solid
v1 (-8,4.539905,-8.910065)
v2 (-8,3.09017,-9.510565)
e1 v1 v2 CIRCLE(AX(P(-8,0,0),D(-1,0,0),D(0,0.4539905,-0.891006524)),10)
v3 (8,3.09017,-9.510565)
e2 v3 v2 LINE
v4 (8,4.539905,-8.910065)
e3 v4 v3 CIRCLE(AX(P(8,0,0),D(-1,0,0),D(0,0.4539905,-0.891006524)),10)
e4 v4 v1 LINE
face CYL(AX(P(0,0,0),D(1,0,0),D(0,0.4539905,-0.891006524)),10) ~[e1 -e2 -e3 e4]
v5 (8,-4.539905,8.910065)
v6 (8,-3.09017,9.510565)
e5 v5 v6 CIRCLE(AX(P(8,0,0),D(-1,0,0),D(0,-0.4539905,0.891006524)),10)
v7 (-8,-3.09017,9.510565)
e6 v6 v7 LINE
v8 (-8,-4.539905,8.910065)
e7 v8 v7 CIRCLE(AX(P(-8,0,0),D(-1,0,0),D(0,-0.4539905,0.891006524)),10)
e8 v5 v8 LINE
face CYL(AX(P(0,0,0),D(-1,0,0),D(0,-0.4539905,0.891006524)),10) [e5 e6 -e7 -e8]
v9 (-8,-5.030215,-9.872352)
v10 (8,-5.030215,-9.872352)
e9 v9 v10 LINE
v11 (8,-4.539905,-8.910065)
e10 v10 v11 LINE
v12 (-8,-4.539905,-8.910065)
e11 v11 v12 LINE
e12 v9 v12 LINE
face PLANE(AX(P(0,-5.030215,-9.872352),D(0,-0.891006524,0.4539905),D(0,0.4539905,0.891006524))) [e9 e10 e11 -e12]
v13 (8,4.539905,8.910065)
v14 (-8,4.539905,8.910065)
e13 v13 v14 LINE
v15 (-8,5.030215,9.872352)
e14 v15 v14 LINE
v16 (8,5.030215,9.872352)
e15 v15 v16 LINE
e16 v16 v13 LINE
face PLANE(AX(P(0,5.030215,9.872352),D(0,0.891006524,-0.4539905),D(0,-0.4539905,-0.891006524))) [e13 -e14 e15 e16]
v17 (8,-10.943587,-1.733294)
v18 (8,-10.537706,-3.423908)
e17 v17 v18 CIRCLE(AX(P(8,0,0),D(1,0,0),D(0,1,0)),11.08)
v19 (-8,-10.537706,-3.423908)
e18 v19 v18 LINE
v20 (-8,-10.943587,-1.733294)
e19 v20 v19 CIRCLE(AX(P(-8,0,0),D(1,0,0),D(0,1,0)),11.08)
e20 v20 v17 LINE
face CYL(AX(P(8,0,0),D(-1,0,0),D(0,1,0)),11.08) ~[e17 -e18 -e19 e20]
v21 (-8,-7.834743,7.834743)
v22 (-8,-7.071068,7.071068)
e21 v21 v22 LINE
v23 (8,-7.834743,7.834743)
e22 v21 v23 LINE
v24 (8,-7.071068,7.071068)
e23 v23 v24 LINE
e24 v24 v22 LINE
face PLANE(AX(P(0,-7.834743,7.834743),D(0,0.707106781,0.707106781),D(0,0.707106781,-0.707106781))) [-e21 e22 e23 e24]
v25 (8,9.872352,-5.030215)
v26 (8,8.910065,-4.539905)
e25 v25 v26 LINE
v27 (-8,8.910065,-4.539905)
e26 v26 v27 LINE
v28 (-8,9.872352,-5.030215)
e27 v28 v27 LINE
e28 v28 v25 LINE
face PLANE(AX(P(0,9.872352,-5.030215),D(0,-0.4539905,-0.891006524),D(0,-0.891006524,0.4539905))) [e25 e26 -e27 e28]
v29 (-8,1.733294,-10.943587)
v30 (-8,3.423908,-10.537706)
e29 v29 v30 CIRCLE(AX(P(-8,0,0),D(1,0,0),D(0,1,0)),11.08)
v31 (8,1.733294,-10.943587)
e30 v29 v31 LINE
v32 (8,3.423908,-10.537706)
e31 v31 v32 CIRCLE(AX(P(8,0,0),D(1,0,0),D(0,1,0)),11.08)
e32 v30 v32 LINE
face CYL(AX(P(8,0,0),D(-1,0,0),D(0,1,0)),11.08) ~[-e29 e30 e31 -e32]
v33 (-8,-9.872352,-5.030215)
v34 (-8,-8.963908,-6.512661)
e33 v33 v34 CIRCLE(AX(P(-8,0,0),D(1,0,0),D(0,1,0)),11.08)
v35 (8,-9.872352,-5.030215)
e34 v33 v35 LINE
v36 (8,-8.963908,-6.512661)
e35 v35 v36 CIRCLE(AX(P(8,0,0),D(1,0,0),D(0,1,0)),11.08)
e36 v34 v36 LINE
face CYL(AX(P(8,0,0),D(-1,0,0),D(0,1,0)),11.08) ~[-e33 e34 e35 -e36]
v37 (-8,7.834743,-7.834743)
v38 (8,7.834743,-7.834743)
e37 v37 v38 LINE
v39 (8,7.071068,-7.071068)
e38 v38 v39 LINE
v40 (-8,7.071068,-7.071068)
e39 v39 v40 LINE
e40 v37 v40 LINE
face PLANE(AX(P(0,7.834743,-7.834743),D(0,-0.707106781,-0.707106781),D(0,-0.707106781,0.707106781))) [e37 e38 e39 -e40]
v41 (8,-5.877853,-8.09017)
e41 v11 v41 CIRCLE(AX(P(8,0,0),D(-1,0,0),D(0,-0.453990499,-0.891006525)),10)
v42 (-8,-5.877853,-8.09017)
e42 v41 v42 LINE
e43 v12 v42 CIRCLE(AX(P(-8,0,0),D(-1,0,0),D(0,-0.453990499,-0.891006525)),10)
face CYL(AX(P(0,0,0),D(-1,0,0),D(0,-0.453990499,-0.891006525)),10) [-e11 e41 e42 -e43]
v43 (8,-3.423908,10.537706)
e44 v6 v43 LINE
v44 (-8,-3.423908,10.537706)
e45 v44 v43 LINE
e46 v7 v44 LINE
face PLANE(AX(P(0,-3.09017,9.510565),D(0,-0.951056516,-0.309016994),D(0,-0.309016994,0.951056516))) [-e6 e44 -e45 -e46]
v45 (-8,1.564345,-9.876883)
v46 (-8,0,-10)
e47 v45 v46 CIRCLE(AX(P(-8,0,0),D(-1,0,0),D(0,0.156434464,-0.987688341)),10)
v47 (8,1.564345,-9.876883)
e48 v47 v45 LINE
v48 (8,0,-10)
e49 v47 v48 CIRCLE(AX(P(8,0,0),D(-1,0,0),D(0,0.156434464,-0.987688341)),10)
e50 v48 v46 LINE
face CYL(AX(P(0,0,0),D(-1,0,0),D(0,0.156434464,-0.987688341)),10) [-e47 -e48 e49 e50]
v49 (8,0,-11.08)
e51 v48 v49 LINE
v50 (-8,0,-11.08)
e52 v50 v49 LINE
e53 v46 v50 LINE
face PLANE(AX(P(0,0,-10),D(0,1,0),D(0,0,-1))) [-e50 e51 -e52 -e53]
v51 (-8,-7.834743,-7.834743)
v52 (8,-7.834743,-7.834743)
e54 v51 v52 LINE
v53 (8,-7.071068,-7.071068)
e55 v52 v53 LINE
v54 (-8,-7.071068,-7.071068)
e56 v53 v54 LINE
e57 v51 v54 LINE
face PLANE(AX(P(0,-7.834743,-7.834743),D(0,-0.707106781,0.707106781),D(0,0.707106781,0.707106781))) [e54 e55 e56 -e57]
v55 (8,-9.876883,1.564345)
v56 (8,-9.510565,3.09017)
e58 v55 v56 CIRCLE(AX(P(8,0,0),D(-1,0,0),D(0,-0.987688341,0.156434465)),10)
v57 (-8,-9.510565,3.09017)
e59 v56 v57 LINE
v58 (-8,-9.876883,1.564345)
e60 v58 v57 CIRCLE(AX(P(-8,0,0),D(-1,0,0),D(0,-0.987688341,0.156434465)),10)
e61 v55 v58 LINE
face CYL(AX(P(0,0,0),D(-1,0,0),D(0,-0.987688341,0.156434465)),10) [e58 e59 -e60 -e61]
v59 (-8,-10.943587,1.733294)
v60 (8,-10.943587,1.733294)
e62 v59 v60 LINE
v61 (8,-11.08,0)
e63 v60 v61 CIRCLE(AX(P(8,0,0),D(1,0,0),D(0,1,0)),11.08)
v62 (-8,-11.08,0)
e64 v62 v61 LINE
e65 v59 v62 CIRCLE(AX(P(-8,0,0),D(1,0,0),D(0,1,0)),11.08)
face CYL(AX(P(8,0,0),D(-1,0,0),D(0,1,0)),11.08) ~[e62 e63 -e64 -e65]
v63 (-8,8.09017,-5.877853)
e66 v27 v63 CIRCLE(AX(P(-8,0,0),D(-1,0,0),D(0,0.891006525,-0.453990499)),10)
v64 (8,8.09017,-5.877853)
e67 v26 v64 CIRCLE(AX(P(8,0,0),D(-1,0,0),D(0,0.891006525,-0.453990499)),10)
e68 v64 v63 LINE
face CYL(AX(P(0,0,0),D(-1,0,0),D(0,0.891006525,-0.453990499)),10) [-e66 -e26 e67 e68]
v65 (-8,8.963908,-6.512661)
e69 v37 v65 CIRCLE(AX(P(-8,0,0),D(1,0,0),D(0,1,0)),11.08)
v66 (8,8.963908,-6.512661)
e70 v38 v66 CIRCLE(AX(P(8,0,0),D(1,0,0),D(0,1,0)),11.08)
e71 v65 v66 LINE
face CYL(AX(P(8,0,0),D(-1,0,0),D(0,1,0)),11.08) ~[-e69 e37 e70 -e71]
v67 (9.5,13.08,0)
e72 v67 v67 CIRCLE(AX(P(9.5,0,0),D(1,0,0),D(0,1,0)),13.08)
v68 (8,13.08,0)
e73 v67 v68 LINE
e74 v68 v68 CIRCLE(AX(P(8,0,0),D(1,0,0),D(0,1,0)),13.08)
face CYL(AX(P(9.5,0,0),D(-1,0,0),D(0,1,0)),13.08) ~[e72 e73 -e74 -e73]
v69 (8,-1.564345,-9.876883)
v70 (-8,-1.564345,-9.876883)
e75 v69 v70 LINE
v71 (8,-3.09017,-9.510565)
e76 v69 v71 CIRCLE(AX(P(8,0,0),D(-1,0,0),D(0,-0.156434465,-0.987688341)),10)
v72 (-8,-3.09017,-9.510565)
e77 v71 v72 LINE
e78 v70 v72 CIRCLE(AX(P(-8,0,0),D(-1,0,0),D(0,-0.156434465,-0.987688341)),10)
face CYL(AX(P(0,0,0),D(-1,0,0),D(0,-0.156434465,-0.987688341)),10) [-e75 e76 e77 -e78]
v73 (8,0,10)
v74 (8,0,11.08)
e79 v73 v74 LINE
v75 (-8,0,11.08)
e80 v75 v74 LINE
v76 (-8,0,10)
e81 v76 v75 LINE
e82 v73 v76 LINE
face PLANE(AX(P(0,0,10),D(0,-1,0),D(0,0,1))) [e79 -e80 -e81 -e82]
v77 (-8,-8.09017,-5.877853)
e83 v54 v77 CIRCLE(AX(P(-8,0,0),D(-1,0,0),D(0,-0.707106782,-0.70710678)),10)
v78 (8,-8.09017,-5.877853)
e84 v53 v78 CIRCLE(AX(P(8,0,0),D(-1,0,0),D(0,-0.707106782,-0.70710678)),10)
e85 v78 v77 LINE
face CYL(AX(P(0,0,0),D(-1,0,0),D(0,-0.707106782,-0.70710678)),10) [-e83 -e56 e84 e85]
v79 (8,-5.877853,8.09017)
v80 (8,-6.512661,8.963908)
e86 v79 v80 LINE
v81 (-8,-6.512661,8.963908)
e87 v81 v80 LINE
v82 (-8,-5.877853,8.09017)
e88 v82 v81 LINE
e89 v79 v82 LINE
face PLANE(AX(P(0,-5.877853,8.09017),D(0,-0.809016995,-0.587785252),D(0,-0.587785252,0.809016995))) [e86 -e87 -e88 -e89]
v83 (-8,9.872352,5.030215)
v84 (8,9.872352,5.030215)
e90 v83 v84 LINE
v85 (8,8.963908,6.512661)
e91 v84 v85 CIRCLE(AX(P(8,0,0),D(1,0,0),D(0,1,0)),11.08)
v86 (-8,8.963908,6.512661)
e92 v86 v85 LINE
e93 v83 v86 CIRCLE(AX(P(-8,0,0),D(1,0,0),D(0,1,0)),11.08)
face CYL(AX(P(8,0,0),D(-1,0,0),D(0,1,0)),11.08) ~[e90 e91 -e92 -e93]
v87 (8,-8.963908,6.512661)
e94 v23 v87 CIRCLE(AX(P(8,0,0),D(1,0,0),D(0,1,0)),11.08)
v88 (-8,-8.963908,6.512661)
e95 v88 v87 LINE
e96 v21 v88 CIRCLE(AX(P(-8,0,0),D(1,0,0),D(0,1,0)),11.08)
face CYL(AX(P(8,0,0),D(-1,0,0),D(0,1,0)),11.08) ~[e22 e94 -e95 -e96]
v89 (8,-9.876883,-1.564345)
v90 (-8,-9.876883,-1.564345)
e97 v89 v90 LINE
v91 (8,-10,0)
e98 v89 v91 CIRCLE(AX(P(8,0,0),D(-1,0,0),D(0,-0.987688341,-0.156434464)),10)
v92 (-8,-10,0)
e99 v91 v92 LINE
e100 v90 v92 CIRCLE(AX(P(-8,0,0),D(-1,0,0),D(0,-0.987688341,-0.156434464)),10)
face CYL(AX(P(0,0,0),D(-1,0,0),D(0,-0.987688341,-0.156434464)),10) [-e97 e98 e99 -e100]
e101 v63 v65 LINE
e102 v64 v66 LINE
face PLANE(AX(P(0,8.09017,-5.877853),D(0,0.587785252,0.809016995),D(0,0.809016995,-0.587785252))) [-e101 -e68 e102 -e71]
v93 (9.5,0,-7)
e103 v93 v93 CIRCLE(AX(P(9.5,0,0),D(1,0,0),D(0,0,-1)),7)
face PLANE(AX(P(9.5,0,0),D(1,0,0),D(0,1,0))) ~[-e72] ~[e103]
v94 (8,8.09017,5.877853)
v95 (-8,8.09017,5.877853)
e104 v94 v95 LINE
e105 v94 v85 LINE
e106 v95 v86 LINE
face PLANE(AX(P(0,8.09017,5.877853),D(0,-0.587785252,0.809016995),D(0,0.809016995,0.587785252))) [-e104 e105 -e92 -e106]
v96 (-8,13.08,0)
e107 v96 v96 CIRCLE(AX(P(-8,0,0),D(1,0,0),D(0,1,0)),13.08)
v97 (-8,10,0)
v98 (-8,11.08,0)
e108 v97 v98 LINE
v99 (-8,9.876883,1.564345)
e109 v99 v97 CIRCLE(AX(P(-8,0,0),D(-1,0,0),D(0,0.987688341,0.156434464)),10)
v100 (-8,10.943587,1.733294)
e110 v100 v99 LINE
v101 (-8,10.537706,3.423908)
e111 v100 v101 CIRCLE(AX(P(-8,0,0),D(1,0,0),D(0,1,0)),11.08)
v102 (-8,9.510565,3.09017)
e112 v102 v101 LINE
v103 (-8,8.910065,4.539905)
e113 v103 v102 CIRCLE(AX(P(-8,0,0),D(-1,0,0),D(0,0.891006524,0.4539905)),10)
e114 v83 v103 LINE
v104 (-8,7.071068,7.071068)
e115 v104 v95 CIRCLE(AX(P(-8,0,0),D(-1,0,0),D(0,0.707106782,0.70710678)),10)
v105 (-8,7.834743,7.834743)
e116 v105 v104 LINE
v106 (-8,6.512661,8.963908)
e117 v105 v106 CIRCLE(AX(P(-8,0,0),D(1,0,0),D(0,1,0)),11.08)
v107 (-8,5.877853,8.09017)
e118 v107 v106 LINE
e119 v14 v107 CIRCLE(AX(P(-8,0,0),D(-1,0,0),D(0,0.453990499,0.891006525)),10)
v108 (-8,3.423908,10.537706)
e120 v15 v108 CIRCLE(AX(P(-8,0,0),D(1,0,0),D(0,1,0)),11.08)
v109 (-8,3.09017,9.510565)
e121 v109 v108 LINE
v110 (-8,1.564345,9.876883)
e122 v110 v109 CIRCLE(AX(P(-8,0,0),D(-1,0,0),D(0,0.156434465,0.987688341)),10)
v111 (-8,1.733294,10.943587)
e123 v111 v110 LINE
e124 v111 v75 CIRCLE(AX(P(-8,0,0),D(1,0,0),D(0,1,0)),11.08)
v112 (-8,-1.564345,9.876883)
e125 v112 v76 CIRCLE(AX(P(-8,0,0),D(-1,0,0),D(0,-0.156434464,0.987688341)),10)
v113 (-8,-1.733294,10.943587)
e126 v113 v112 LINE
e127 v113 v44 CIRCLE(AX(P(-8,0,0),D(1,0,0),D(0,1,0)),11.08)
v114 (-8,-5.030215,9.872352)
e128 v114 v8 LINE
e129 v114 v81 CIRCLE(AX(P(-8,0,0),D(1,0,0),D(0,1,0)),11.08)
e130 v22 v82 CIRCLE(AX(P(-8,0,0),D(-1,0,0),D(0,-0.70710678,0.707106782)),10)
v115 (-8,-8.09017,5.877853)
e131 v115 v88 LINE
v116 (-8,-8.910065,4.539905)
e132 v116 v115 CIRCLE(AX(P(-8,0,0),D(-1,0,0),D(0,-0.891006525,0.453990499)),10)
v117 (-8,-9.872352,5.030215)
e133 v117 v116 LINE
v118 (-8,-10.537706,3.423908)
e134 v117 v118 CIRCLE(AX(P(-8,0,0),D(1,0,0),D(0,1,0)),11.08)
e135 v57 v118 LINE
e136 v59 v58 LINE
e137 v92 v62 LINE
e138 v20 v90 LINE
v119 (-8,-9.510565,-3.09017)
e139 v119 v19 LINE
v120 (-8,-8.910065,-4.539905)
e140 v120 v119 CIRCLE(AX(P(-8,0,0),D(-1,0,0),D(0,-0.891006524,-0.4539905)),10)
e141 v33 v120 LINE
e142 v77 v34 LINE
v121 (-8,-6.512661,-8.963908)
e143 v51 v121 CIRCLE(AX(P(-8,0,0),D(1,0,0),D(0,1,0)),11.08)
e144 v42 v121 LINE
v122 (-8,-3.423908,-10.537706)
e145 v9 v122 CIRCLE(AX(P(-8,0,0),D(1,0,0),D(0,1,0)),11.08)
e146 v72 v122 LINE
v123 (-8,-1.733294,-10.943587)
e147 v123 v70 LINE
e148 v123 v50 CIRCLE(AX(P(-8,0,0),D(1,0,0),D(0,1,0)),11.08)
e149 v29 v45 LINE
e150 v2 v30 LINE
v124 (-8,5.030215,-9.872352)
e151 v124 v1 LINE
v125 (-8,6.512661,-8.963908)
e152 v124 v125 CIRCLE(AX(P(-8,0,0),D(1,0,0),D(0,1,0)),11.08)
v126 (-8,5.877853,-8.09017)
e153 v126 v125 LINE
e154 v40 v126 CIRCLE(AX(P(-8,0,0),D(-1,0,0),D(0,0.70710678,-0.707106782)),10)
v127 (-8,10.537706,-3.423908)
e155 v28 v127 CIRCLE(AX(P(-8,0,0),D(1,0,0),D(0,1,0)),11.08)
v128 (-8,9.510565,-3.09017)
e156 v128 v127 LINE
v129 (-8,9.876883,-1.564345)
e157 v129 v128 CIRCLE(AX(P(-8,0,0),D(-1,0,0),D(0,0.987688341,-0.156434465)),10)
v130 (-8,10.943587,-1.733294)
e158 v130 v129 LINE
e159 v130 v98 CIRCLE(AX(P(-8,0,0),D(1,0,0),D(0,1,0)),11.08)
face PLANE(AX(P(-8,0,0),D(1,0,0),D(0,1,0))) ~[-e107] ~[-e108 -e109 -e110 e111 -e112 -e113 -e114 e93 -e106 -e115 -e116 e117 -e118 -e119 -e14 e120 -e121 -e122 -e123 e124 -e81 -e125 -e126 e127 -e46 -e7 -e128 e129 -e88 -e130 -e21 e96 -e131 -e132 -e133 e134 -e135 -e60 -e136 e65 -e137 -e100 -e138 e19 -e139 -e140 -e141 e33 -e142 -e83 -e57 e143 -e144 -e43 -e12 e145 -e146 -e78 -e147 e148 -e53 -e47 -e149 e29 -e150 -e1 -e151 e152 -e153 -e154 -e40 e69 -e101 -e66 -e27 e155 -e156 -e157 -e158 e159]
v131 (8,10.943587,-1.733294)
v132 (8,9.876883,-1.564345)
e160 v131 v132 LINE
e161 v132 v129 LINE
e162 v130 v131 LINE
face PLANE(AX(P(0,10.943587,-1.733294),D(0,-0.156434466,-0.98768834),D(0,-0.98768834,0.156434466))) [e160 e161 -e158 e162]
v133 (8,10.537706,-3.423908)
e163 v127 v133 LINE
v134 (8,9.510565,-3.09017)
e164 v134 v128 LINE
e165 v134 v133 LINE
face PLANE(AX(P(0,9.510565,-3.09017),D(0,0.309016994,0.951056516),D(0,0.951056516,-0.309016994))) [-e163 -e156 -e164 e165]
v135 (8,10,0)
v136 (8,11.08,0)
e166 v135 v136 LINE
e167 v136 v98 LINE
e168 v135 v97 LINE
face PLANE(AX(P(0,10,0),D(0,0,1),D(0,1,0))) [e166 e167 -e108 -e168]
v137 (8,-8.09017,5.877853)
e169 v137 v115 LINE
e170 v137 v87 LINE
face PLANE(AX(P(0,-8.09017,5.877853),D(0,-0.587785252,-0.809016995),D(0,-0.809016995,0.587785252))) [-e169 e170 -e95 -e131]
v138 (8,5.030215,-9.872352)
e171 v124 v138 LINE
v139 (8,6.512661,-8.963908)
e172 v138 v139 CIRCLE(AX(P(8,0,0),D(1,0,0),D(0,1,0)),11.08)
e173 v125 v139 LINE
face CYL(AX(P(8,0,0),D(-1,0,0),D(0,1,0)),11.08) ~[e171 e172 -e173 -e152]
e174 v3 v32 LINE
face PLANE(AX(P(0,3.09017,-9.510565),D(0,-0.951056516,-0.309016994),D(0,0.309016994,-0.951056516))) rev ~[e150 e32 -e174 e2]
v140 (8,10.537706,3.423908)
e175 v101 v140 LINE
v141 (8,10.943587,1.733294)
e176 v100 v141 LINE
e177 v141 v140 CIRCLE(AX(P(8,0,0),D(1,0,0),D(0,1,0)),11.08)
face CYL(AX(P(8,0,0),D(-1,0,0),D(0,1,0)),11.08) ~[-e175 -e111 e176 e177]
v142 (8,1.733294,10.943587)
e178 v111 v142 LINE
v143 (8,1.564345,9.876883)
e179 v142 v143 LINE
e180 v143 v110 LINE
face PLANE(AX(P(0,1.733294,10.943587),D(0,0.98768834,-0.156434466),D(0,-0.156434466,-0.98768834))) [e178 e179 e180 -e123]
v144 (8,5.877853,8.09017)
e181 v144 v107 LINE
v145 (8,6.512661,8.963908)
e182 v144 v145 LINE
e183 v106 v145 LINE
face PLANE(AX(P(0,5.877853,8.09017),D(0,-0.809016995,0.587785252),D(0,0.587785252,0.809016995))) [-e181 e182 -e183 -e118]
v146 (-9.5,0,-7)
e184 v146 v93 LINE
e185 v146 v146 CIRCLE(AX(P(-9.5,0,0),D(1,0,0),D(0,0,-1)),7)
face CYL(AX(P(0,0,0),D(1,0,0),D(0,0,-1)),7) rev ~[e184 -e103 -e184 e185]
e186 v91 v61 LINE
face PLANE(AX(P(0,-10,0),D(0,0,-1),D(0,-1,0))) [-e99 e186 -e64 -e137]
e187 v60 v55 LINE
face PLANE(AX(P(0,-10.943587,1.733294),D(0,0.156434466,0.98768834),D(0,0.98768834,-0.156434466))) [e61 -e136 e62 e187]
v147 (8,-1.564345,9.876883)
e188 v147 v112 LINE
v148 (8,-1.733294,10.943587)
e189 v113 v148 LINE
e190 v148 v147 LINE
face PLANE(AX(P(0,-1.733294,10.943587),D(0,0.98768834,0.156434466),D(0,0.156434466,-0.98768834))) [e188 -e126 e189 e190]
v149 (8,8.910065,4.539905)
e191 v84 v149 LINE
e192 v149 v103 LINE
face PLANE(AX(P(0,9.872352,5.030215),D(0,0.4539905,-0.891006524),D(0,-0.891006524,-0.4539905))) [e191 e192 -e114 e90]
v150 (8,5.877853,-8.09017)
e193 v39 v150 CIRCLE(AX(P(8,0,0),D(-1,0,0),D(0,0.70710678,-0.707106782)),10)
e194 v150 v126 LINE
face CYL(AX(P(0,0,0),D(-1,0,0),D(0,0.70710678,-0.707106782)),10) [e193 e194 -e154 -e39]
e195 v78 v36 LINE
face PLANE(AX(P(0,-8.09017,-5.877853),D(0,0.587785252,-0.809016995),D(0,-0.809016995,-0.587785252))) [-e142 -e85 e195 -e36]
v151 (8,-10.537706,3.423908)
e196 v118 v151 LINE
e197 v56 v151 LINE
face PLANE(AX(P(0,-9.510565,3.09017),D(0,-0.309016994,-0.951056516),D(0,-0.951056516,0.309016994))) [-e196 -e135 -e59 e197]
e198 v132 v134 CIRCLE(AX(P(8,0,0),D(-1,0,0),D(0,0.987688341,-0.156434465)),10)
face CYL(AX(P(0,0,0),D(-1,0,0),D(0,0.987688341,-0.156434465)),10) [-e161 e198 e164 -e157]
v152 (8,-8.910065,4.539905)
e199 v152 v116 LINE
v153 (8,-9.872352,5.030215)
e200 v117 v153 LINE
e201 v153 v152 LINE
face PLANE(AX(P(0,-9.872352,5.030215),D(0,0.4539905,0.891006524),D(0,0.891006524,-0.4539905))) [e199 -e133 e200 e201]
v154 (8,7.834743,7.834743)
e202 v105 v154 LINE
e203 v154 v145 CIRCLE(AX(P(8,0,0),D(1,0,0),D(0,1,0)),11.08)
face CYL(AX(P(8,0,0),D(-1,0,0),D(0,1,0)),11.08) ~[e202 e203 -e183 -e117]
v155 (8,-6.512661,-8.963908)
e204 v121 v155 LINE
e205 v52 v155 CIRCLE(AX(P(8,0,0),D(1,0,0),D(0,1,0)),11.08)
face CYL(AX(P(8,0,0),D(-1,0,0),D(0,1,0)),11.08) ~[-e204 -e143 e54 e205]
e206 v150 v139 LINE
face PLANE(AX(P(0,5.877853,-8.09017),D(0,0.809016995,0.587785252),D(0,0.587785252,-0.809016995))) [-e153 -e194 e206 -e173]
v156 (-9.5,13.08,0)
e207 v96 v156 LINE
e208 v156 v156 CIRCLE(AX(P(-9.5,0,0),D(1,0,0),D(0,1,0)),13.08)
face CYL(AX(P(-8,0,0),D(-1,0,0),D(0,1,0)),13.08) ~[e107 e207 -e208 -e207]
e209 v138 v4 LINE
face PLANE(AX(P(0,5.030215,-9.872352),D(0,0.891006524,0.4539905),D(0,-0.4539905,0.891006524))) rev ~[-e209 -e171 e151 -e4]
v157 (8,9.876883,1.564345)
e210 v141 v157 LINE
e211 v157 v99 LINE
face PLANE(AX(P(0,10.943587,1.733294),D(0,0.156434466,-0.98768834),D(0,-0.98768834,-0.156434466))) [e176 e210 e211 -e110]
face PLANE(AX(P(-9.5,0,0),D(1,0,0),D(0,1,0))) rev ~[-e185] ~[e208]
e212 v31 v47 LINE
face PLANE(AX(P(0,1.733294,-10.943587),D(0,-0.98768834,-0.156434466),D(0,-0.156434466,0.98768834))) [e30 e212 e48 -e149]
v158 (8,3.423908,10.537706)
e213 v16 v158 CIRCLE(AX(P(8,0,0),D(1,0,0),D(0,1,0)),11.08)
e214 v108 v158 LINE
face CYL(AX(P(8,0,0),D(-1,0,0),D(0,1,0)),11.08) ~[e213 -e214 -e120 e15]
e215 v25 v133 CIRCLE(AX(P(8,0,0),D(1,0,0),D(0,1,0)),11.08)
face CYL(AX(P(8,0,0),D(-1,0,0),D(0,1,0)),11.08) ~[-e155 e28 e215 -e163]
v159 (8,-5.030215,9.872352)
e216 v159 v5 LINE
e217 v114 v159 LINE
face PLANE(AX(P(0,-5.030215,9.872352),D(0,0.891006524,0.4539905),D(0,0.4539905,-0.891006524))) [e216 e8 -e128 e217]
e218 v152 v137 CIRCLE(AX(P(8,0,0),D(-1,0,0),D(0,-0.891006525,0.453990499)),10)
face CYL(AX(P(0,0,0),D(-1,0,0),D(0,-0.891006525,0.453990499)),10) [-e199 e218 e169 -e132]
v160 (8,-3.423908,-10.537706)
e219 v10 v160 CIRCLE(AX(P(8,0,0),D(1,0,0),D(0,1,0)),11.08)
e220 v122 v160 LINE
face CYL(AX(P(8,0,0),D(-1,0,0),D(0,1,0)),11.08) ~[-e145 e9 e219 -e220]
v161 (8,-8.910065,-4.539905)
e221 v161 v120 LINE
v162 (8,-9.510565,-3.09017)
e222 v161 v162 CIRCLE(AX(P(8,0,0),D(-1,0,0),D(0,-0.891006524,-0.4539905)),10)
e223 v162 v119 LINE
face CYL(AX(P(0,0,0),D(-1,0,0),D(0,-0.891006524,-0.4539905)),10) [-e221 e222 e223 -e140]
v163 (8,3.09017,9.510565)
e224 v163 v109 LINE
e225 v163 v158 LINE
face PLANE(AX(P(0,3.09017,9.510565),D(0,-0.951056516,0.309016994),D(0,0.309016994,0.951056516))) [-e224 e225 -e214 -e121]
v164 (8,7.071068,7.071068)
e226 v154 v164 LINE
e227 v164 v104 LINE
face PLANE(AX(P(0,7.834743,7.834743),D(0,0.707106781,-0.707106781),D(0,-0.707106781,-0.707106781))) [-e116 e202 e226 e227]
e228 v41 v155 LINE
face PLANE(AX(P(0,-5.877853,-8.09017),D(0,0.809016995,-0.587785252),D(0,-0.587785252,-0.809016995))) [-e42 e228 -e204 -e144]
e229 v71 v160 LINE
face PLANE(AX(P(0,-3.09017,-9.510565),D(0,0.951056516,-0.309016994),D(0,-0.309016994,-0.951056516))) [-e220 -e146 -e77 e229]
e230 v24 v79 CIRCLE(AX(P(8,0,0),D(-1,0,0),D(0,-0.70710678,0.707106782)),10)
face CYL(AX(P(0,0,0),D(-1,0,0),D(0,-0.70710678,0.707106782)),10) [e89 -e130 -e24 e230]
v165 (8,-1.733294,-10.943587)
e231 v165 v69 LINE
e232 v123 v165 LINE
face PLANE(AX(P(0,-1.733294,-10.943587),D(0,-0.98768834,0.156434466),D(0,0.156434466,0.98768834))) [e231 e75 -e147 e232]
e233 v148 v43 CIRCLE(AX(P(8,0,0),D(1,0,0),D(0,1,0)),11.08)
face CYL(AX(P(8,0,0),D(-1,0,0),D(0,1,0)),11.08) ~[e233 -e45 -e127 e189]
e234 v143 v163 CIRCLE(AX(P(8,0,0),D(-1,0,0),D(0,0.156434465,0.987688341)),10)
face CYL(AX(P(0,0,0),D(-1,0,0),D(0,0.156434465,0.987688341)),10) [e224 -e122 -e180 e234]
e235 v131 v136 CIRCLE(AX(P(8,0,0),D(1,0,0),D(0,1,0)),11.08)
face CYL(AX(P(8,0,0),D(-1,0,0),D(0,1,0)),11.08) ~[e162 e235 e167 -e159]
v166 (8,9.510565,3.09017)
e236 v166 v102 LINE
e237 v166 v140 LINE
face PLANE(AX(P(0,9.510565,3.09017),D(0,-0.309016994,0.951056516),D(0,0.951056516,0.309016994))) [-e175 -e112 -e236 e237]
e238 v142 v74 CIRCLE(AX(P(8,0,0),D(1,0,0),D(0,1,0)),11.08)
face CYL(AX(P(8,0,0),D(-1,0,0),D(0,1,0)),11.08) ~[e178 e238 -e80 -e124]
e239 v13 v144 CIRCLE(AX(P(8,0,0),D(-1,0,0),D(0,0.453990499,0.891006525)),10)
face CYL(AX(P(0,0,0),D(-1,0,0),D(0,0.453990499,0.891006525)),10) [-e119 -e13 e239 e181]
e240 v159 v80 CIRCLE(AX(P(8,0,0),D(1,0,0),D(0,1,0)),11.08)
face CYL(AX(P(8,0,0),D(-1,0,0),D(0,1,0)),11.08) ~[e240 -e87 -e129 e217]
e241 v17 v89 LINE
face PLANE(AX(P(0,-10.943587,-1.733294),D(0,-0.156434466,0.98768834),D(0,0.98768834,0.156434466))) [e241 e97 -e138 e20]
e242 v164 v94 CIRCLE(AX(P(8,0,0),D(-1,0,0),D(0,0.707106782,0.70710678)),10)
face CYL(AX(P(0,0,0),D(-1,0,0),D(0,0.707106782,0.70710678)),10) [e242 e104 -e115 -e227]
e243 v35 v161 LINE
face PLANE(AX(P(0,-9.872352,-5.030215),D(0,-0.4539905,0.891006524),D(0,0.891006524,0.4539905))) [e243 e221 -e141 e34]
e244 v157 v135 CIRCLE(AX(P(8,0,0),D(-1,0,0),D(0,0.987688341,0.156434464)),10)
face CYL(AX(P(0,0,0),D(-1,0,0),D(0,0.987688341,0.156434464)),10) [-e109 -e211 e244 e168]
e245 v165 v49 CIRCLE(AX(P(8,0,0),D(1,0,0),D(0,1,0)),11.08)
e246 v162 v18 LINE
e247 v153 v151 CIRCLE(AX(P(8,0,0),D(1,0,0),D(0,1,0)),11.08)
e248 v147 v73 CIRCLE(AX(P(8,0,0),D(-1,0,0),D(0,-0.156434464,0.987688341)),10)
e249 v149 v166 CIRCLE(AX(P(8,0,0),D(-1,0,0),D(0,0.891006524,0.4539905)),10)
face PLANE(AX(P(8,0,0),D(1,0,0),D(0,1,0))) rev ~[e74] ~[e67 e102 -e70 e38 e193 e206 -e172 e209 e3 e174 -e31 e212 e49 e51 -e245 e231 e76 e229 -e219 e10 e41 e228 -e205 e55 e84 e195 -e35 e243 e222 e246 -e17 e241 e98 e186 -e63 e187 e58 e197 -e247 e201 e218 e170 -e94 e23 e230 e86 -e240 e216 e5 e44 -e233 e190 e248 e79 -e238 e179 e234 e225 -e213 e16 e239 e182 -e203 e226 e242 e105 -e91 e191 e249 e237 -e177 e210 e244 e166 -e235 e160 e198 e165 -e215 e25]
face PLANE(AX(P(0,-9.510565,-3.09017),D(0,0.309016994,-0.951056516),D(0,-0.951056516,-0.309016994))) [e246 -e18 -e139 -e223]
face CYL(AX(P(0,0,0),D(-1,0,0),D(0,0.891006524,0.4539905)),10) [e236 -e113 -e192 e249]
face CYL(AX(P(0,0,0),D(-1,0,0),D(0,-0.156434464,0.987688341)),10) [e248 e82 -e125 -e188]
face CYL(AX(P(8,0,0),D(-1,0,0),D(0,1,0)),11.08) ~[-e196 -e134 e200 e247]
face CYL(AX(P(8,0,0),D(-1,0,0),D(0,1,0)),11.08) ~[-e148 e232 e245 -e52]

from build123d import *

# Parameters (mm, degrees)
SKETCH_7_R          = 7
CUT_EXTRUDE_3_DEPTH = 10
CUT_EXTRUDE_4_DEPTH = 8


with BuildPart() as part:
    # 草图1 → 旋转1 (revolve)
    with BuildSketch(Plane.XY):
        Polygon((-9.5, 0), (9.5, 0), (9.5, 13.08), (8, 13.08), (8, 11.08), (-8, 11.08), (-8, 13.08), (-9.5, 13.08), align=None)
    revolve(axis=Axis((-9.5, 0, 0), (1, 0, 0)))

    # 草图7 → 切除-拉伸3 (cut, symmetric)
    with BuildSketch(Plane(origin=(0, 0, 0), x_dir=(0, 0, -1), z_dir=(1, 0, 0))):
        Circle(SKETCH_7_R)
    extrude(amount=CUT_EXTRUDE_3_DEPTH, both=True, mode=Mode.SUBTRACT)

    # 草图2 → 切除-拉伸4 (cut, symmetric)
    with BuildSketch(Plane(origin=(0, 0, 0), x_dir=(0, 0, -1), z_dir=(1, 0, 0))):
        with BuildLine():
            Line((10, 0), (11.08, 0))
            ThreePointArc((11.08, 0), (11.045844058, 0.869326781), (10.943586814, 1.733293873))
            Line((10.943586814, 1.733293873), (9.876883406, 1.56434465))
            ThreePointArc((9.876883406, 1.56434465), (9.969173337, 0.784590957), (10, 0))
        make_face()
        with BuildLine():
            Line((9.510565163, -3.090169944), (10.537706201, -3.423908298))
            ThreePointArc((10.537706201, -3.423908298), (10.773858718, -2.586574632), (10.943586814, -1.733293873))
            Line((10.943586814, -1.733293873), (9.876883406, -1.56434465))
            ThreePointArc((9.876883406, -1.56434465), (9.723699204, -2.334453639), (9.510565163, -3.090169944))
        make_face()
        with BuildLine():
            Line((8.090169944, -5.877852523), (8.963908298, -6.512660595))
            ThreePointArc((8.963908298, -6.512660595), (9.447253021, -5.789284097), (9.872352288, -5.030214737))
            Line((9.872352288, -5.030214737), (8.910065242, -4.539904997))
            ThreePointArc((8.910065242, -4.539904997), (8.526401644, -5.224985647), (8.090169944, -5.877852523))
        make_face()
        with BuildLine():
            Line((5.877852523, -8.090169944), (6.512660595, -8.963908298))
            ThreePointArc((6.512660595, -8.963908298), (7.195884375, -8.425298099), (7.834743136, -7.834743136))
            Line((7.834743136, -7.834743136), (7.071067812, -7.071067812))
            ThreePointArc((7.071067812, -7.071067812), (6.494480483, -7.604059656), (5.877852523, -8.090169944))
        make_face()
        with BuildLine():
            Line((3.090169944, -9.510565163), (3.423908298, -10.537706201))
            ThreePointArc((3.423908298, -10.537706201), (4.240132431, -10.23658522), (5.030214737, -9.872352288))
            Line((5.030214737, -9.872352288), (4.539904997, -8.910065242))
            ThreePointArc((4.539904997, -8.910065242), (3.826834324, -9.238795325), (3.090169944, -9.510565163))
        make_face()
        with BuildLine():
            Line((0, -10), (0, -11.08))
            ThreePointArc((0, -11.08), (0.869326781, -11.045844058), (1.733293873, -10.943586814))
            Line((1.733293873, -10.943586814), (1.56434465, -9.876883406))
            ThreePointArc((1.56434465, -9.876883406), (0.784590957, -9.969173337), (0, -10))
        make_face()
        with BuildLine():
            Line((-3.090169944, -9.510565163), (-3.423908298, -10.537706201))
            ThreePointArc((-3.423908298, -10.537706201), (-2.586574632, -10.773858718), (-1.733293873, -10.943586814))
            Line((-1.733293873, -10.943586814), (-1.56434465, -9.876883406))
            ThreePointArc((-1.56434465, -9.876883406), (-2.334453639, -9.723699204), (-3.090169944, -9.510565163))
        make_face()
        with BuildLine():
            Line((-5.877852523, -8.090169944), (-6.512660595, -8.963908298))
            ThreePointArc((-6.512660595, -8.963908298), (-5.789284097, -9.447253021), (-5.030214737, -9.872352288))
            Line((-5.030214737, -9.872352288), (-4.539904997, -8.910065242))
            ThreePointArc((-4.539904997, -8.910065242), (-5.224985647, -8.526401644), (-5.877852523, -8.090169944))
        make_face()
        with BuildLine():
            Line((-8.090169944, -5.877852523), (-8.963908298, -6.512660595))
            ThreePointArc((-8.963908298, -6.512660595), (-8.425298099, -7.195884375), (-7.834743136, -7.834743136))
            Line((-7.834743136, -7.834743136), (-7.071067812, -7.071067812))
            ThreePointArc((-7.071067812, -7.071067812), (-7.604059656, -6.494480483), (-8.090169944, -5.877852523))
        make_face()
        with BuildLine():
            Line((-9.510565163, -3.090169944), (-10.537706201, -3.423908298))
            ThreePointArc((-10.537706201, -3.423908298), (-10.23658522, -4.240132431), (-9.872352288, -5.030214737))
            Line((-9.872352288, -5.030214737), (-8.910065242, -4.539904997))
            ThreePointArc((-8.910065242, -4.539904997), (-9.238795325, -3.826834324), (-9.510565163, -3.090169944))
        make_face()
        with BuildLine():
            Line((-10, 0), (-11.08, 0))
            ThreePointArc((-11.08, 0), (-11.045844058, -0.869326781), (-10.943586814, -1.733293873))
            Line((-10.943586814, -1.733293873), (-9.876883406, -1.56434465))
            ThreePointArc((-9.876883406, -1.56434465), (-9.969173337, -0.784590957), (-10, 0))
        make_face()
        with BuildLine():
            Line((-9.510565163, 3.090169944), (-10.537706201, 3.423908298))
            ThreePointArc((-10.537706201, 3.423908298), (-10.773858718, 2.586574632), (-10.943586814, 1.733293873))
            Line((-10.943586814, 1.733293873), (-9.876883406, 1.56434465))
            ThreePointArc((-9.876883406, 1.56434465), (-9.723699204, 2.334453639), (-9.510565163, 3.090169944))
        make_face()
        with BuildLine():
            Line((-8.090169944, 5.877852523), (-8.963908298, 6.512660595))
            ThreePointArc((-8.963908298, 6.512660595), (-9.447253021, 5.789284097), (-9.872352288, 5.030214737))
            Line((-9.872352288, 5.030214737), (-8.910065242, 4.539904997))
            ThreePointArc((-8.910065242, 4.539904997), (-8.526401644, 5.224985647), (-8.090169944, 5.877852523))
        make_face()
        with BuildLine():
            Line((-5.877852523, 8.090169944), (-6.512660595, 8.963908298))
            ThreePointArc((-6.512660595, 8.963908298), (-7.195884375, 8.425298099), (-7.834743136, 7.834743136))
            Line((-7.834743136, 7.834743136), (-7.071067812, 7.071067812))
            ThreePointArc((-7.071067812, 7.071067812), (-6.494480483, 7.604059656), (-5.877852523, 8.090169944))
        make_face()
        with BuildLine():
            Line((-3.090169944, 9.510565163), (-3.423908298, 10.537706201))
            ThreePointArc((-3.423908298, 10.537706201), (-4.240132431, 10.23658522), (-5.030214737, 9.872352288))
            Line((-5.030214737, 9.872352288), (-4.539904997, 8.910065242))
            ThreePointArc((-4.539904997, 8.910065242), (-3.826834324, 9.238795325), (-3.090169944, 9.510565163))
        make_face()
        with BuildLine():
            Line((0, 10), (0, 11.08))
            ThreePointArc((0, 11.08), (-0.869326781, 11.045844058), (-1.733293873, 10.943586814))
            Line((-1.733293873, 10.943586814), (-1.56434465, 9.876883406))
            ThreePointArc((-1.56434465, 9.876883406), (-0.784590957, 9.969173337), (0, 10))
        make_face()
        with BuildLine():
            Line((3.090169944, 9.510565163), (3.423908298, 10.537706201))
            ThreePointArc((3.423908298, 10.537706201), (2.586574632, 10.773858718), (1.733293873, 10.943586814))
            Line((1.733293873, 10.943586814), (1.56434465, 9.876883406))
            ThreePointArc((1.56434465, 9.876883406), (2.334453639, 9.723699204), (3.090169944, 9.510565163))
        make_face()
        with BuildLine():
            Line((5.877852523, 8.090169944), (6.512660595, 8.963908298))
            ThreePointArc((6.512660595, 8.963908298), (5.789284097, 9.447253021), (5.030214737, 9.872352288))
            Line((5.030214737, 9.872352288), (4.539904997, 8.910065242))
            ThreePointArc((4.539904997, 8.910065242), (5.224985647, 8.526401644), (5.877852523, 8.090169944))
        make_face()
        with BuildLine():
            Line((8.090169944, 5.877852523), (8.963908298, 6.512660595))
            ThreePointArc((8.963908298, 6.512660595), (8.425298099, 7.195884375), (7.834743136, 7.834743136))
            Line((7.834743136, 7.834743136), (7.071067812, 7.071067812))
            ThreePointArc((7.071067812, 7.071067812), (7.604059656, 6.494480483), (8.090169944, 5.877852523))
        make_face()
        with BuildLine():
            Line((9.510565163, 3.090169944), (10.537706201, 3.423908298))
            ThreePointArc((10.537706201, 3.423908298), (10.23658522, 4.240132431), (9.872352288, 5.030214737))
            Line((9.872352288, 5.030214737), (8.910065242, 4.539904997))
            ThreePointArc((8.910065242, 4.539904997), (9.238795325, 3.826834324), (9.510565163, 3.090169944))
        make_face()
    extrude(amount=CUT_EXTRUDE_4_DEPTH, both=True, mode=Mode.SUBTRACT)


solid = part.part
